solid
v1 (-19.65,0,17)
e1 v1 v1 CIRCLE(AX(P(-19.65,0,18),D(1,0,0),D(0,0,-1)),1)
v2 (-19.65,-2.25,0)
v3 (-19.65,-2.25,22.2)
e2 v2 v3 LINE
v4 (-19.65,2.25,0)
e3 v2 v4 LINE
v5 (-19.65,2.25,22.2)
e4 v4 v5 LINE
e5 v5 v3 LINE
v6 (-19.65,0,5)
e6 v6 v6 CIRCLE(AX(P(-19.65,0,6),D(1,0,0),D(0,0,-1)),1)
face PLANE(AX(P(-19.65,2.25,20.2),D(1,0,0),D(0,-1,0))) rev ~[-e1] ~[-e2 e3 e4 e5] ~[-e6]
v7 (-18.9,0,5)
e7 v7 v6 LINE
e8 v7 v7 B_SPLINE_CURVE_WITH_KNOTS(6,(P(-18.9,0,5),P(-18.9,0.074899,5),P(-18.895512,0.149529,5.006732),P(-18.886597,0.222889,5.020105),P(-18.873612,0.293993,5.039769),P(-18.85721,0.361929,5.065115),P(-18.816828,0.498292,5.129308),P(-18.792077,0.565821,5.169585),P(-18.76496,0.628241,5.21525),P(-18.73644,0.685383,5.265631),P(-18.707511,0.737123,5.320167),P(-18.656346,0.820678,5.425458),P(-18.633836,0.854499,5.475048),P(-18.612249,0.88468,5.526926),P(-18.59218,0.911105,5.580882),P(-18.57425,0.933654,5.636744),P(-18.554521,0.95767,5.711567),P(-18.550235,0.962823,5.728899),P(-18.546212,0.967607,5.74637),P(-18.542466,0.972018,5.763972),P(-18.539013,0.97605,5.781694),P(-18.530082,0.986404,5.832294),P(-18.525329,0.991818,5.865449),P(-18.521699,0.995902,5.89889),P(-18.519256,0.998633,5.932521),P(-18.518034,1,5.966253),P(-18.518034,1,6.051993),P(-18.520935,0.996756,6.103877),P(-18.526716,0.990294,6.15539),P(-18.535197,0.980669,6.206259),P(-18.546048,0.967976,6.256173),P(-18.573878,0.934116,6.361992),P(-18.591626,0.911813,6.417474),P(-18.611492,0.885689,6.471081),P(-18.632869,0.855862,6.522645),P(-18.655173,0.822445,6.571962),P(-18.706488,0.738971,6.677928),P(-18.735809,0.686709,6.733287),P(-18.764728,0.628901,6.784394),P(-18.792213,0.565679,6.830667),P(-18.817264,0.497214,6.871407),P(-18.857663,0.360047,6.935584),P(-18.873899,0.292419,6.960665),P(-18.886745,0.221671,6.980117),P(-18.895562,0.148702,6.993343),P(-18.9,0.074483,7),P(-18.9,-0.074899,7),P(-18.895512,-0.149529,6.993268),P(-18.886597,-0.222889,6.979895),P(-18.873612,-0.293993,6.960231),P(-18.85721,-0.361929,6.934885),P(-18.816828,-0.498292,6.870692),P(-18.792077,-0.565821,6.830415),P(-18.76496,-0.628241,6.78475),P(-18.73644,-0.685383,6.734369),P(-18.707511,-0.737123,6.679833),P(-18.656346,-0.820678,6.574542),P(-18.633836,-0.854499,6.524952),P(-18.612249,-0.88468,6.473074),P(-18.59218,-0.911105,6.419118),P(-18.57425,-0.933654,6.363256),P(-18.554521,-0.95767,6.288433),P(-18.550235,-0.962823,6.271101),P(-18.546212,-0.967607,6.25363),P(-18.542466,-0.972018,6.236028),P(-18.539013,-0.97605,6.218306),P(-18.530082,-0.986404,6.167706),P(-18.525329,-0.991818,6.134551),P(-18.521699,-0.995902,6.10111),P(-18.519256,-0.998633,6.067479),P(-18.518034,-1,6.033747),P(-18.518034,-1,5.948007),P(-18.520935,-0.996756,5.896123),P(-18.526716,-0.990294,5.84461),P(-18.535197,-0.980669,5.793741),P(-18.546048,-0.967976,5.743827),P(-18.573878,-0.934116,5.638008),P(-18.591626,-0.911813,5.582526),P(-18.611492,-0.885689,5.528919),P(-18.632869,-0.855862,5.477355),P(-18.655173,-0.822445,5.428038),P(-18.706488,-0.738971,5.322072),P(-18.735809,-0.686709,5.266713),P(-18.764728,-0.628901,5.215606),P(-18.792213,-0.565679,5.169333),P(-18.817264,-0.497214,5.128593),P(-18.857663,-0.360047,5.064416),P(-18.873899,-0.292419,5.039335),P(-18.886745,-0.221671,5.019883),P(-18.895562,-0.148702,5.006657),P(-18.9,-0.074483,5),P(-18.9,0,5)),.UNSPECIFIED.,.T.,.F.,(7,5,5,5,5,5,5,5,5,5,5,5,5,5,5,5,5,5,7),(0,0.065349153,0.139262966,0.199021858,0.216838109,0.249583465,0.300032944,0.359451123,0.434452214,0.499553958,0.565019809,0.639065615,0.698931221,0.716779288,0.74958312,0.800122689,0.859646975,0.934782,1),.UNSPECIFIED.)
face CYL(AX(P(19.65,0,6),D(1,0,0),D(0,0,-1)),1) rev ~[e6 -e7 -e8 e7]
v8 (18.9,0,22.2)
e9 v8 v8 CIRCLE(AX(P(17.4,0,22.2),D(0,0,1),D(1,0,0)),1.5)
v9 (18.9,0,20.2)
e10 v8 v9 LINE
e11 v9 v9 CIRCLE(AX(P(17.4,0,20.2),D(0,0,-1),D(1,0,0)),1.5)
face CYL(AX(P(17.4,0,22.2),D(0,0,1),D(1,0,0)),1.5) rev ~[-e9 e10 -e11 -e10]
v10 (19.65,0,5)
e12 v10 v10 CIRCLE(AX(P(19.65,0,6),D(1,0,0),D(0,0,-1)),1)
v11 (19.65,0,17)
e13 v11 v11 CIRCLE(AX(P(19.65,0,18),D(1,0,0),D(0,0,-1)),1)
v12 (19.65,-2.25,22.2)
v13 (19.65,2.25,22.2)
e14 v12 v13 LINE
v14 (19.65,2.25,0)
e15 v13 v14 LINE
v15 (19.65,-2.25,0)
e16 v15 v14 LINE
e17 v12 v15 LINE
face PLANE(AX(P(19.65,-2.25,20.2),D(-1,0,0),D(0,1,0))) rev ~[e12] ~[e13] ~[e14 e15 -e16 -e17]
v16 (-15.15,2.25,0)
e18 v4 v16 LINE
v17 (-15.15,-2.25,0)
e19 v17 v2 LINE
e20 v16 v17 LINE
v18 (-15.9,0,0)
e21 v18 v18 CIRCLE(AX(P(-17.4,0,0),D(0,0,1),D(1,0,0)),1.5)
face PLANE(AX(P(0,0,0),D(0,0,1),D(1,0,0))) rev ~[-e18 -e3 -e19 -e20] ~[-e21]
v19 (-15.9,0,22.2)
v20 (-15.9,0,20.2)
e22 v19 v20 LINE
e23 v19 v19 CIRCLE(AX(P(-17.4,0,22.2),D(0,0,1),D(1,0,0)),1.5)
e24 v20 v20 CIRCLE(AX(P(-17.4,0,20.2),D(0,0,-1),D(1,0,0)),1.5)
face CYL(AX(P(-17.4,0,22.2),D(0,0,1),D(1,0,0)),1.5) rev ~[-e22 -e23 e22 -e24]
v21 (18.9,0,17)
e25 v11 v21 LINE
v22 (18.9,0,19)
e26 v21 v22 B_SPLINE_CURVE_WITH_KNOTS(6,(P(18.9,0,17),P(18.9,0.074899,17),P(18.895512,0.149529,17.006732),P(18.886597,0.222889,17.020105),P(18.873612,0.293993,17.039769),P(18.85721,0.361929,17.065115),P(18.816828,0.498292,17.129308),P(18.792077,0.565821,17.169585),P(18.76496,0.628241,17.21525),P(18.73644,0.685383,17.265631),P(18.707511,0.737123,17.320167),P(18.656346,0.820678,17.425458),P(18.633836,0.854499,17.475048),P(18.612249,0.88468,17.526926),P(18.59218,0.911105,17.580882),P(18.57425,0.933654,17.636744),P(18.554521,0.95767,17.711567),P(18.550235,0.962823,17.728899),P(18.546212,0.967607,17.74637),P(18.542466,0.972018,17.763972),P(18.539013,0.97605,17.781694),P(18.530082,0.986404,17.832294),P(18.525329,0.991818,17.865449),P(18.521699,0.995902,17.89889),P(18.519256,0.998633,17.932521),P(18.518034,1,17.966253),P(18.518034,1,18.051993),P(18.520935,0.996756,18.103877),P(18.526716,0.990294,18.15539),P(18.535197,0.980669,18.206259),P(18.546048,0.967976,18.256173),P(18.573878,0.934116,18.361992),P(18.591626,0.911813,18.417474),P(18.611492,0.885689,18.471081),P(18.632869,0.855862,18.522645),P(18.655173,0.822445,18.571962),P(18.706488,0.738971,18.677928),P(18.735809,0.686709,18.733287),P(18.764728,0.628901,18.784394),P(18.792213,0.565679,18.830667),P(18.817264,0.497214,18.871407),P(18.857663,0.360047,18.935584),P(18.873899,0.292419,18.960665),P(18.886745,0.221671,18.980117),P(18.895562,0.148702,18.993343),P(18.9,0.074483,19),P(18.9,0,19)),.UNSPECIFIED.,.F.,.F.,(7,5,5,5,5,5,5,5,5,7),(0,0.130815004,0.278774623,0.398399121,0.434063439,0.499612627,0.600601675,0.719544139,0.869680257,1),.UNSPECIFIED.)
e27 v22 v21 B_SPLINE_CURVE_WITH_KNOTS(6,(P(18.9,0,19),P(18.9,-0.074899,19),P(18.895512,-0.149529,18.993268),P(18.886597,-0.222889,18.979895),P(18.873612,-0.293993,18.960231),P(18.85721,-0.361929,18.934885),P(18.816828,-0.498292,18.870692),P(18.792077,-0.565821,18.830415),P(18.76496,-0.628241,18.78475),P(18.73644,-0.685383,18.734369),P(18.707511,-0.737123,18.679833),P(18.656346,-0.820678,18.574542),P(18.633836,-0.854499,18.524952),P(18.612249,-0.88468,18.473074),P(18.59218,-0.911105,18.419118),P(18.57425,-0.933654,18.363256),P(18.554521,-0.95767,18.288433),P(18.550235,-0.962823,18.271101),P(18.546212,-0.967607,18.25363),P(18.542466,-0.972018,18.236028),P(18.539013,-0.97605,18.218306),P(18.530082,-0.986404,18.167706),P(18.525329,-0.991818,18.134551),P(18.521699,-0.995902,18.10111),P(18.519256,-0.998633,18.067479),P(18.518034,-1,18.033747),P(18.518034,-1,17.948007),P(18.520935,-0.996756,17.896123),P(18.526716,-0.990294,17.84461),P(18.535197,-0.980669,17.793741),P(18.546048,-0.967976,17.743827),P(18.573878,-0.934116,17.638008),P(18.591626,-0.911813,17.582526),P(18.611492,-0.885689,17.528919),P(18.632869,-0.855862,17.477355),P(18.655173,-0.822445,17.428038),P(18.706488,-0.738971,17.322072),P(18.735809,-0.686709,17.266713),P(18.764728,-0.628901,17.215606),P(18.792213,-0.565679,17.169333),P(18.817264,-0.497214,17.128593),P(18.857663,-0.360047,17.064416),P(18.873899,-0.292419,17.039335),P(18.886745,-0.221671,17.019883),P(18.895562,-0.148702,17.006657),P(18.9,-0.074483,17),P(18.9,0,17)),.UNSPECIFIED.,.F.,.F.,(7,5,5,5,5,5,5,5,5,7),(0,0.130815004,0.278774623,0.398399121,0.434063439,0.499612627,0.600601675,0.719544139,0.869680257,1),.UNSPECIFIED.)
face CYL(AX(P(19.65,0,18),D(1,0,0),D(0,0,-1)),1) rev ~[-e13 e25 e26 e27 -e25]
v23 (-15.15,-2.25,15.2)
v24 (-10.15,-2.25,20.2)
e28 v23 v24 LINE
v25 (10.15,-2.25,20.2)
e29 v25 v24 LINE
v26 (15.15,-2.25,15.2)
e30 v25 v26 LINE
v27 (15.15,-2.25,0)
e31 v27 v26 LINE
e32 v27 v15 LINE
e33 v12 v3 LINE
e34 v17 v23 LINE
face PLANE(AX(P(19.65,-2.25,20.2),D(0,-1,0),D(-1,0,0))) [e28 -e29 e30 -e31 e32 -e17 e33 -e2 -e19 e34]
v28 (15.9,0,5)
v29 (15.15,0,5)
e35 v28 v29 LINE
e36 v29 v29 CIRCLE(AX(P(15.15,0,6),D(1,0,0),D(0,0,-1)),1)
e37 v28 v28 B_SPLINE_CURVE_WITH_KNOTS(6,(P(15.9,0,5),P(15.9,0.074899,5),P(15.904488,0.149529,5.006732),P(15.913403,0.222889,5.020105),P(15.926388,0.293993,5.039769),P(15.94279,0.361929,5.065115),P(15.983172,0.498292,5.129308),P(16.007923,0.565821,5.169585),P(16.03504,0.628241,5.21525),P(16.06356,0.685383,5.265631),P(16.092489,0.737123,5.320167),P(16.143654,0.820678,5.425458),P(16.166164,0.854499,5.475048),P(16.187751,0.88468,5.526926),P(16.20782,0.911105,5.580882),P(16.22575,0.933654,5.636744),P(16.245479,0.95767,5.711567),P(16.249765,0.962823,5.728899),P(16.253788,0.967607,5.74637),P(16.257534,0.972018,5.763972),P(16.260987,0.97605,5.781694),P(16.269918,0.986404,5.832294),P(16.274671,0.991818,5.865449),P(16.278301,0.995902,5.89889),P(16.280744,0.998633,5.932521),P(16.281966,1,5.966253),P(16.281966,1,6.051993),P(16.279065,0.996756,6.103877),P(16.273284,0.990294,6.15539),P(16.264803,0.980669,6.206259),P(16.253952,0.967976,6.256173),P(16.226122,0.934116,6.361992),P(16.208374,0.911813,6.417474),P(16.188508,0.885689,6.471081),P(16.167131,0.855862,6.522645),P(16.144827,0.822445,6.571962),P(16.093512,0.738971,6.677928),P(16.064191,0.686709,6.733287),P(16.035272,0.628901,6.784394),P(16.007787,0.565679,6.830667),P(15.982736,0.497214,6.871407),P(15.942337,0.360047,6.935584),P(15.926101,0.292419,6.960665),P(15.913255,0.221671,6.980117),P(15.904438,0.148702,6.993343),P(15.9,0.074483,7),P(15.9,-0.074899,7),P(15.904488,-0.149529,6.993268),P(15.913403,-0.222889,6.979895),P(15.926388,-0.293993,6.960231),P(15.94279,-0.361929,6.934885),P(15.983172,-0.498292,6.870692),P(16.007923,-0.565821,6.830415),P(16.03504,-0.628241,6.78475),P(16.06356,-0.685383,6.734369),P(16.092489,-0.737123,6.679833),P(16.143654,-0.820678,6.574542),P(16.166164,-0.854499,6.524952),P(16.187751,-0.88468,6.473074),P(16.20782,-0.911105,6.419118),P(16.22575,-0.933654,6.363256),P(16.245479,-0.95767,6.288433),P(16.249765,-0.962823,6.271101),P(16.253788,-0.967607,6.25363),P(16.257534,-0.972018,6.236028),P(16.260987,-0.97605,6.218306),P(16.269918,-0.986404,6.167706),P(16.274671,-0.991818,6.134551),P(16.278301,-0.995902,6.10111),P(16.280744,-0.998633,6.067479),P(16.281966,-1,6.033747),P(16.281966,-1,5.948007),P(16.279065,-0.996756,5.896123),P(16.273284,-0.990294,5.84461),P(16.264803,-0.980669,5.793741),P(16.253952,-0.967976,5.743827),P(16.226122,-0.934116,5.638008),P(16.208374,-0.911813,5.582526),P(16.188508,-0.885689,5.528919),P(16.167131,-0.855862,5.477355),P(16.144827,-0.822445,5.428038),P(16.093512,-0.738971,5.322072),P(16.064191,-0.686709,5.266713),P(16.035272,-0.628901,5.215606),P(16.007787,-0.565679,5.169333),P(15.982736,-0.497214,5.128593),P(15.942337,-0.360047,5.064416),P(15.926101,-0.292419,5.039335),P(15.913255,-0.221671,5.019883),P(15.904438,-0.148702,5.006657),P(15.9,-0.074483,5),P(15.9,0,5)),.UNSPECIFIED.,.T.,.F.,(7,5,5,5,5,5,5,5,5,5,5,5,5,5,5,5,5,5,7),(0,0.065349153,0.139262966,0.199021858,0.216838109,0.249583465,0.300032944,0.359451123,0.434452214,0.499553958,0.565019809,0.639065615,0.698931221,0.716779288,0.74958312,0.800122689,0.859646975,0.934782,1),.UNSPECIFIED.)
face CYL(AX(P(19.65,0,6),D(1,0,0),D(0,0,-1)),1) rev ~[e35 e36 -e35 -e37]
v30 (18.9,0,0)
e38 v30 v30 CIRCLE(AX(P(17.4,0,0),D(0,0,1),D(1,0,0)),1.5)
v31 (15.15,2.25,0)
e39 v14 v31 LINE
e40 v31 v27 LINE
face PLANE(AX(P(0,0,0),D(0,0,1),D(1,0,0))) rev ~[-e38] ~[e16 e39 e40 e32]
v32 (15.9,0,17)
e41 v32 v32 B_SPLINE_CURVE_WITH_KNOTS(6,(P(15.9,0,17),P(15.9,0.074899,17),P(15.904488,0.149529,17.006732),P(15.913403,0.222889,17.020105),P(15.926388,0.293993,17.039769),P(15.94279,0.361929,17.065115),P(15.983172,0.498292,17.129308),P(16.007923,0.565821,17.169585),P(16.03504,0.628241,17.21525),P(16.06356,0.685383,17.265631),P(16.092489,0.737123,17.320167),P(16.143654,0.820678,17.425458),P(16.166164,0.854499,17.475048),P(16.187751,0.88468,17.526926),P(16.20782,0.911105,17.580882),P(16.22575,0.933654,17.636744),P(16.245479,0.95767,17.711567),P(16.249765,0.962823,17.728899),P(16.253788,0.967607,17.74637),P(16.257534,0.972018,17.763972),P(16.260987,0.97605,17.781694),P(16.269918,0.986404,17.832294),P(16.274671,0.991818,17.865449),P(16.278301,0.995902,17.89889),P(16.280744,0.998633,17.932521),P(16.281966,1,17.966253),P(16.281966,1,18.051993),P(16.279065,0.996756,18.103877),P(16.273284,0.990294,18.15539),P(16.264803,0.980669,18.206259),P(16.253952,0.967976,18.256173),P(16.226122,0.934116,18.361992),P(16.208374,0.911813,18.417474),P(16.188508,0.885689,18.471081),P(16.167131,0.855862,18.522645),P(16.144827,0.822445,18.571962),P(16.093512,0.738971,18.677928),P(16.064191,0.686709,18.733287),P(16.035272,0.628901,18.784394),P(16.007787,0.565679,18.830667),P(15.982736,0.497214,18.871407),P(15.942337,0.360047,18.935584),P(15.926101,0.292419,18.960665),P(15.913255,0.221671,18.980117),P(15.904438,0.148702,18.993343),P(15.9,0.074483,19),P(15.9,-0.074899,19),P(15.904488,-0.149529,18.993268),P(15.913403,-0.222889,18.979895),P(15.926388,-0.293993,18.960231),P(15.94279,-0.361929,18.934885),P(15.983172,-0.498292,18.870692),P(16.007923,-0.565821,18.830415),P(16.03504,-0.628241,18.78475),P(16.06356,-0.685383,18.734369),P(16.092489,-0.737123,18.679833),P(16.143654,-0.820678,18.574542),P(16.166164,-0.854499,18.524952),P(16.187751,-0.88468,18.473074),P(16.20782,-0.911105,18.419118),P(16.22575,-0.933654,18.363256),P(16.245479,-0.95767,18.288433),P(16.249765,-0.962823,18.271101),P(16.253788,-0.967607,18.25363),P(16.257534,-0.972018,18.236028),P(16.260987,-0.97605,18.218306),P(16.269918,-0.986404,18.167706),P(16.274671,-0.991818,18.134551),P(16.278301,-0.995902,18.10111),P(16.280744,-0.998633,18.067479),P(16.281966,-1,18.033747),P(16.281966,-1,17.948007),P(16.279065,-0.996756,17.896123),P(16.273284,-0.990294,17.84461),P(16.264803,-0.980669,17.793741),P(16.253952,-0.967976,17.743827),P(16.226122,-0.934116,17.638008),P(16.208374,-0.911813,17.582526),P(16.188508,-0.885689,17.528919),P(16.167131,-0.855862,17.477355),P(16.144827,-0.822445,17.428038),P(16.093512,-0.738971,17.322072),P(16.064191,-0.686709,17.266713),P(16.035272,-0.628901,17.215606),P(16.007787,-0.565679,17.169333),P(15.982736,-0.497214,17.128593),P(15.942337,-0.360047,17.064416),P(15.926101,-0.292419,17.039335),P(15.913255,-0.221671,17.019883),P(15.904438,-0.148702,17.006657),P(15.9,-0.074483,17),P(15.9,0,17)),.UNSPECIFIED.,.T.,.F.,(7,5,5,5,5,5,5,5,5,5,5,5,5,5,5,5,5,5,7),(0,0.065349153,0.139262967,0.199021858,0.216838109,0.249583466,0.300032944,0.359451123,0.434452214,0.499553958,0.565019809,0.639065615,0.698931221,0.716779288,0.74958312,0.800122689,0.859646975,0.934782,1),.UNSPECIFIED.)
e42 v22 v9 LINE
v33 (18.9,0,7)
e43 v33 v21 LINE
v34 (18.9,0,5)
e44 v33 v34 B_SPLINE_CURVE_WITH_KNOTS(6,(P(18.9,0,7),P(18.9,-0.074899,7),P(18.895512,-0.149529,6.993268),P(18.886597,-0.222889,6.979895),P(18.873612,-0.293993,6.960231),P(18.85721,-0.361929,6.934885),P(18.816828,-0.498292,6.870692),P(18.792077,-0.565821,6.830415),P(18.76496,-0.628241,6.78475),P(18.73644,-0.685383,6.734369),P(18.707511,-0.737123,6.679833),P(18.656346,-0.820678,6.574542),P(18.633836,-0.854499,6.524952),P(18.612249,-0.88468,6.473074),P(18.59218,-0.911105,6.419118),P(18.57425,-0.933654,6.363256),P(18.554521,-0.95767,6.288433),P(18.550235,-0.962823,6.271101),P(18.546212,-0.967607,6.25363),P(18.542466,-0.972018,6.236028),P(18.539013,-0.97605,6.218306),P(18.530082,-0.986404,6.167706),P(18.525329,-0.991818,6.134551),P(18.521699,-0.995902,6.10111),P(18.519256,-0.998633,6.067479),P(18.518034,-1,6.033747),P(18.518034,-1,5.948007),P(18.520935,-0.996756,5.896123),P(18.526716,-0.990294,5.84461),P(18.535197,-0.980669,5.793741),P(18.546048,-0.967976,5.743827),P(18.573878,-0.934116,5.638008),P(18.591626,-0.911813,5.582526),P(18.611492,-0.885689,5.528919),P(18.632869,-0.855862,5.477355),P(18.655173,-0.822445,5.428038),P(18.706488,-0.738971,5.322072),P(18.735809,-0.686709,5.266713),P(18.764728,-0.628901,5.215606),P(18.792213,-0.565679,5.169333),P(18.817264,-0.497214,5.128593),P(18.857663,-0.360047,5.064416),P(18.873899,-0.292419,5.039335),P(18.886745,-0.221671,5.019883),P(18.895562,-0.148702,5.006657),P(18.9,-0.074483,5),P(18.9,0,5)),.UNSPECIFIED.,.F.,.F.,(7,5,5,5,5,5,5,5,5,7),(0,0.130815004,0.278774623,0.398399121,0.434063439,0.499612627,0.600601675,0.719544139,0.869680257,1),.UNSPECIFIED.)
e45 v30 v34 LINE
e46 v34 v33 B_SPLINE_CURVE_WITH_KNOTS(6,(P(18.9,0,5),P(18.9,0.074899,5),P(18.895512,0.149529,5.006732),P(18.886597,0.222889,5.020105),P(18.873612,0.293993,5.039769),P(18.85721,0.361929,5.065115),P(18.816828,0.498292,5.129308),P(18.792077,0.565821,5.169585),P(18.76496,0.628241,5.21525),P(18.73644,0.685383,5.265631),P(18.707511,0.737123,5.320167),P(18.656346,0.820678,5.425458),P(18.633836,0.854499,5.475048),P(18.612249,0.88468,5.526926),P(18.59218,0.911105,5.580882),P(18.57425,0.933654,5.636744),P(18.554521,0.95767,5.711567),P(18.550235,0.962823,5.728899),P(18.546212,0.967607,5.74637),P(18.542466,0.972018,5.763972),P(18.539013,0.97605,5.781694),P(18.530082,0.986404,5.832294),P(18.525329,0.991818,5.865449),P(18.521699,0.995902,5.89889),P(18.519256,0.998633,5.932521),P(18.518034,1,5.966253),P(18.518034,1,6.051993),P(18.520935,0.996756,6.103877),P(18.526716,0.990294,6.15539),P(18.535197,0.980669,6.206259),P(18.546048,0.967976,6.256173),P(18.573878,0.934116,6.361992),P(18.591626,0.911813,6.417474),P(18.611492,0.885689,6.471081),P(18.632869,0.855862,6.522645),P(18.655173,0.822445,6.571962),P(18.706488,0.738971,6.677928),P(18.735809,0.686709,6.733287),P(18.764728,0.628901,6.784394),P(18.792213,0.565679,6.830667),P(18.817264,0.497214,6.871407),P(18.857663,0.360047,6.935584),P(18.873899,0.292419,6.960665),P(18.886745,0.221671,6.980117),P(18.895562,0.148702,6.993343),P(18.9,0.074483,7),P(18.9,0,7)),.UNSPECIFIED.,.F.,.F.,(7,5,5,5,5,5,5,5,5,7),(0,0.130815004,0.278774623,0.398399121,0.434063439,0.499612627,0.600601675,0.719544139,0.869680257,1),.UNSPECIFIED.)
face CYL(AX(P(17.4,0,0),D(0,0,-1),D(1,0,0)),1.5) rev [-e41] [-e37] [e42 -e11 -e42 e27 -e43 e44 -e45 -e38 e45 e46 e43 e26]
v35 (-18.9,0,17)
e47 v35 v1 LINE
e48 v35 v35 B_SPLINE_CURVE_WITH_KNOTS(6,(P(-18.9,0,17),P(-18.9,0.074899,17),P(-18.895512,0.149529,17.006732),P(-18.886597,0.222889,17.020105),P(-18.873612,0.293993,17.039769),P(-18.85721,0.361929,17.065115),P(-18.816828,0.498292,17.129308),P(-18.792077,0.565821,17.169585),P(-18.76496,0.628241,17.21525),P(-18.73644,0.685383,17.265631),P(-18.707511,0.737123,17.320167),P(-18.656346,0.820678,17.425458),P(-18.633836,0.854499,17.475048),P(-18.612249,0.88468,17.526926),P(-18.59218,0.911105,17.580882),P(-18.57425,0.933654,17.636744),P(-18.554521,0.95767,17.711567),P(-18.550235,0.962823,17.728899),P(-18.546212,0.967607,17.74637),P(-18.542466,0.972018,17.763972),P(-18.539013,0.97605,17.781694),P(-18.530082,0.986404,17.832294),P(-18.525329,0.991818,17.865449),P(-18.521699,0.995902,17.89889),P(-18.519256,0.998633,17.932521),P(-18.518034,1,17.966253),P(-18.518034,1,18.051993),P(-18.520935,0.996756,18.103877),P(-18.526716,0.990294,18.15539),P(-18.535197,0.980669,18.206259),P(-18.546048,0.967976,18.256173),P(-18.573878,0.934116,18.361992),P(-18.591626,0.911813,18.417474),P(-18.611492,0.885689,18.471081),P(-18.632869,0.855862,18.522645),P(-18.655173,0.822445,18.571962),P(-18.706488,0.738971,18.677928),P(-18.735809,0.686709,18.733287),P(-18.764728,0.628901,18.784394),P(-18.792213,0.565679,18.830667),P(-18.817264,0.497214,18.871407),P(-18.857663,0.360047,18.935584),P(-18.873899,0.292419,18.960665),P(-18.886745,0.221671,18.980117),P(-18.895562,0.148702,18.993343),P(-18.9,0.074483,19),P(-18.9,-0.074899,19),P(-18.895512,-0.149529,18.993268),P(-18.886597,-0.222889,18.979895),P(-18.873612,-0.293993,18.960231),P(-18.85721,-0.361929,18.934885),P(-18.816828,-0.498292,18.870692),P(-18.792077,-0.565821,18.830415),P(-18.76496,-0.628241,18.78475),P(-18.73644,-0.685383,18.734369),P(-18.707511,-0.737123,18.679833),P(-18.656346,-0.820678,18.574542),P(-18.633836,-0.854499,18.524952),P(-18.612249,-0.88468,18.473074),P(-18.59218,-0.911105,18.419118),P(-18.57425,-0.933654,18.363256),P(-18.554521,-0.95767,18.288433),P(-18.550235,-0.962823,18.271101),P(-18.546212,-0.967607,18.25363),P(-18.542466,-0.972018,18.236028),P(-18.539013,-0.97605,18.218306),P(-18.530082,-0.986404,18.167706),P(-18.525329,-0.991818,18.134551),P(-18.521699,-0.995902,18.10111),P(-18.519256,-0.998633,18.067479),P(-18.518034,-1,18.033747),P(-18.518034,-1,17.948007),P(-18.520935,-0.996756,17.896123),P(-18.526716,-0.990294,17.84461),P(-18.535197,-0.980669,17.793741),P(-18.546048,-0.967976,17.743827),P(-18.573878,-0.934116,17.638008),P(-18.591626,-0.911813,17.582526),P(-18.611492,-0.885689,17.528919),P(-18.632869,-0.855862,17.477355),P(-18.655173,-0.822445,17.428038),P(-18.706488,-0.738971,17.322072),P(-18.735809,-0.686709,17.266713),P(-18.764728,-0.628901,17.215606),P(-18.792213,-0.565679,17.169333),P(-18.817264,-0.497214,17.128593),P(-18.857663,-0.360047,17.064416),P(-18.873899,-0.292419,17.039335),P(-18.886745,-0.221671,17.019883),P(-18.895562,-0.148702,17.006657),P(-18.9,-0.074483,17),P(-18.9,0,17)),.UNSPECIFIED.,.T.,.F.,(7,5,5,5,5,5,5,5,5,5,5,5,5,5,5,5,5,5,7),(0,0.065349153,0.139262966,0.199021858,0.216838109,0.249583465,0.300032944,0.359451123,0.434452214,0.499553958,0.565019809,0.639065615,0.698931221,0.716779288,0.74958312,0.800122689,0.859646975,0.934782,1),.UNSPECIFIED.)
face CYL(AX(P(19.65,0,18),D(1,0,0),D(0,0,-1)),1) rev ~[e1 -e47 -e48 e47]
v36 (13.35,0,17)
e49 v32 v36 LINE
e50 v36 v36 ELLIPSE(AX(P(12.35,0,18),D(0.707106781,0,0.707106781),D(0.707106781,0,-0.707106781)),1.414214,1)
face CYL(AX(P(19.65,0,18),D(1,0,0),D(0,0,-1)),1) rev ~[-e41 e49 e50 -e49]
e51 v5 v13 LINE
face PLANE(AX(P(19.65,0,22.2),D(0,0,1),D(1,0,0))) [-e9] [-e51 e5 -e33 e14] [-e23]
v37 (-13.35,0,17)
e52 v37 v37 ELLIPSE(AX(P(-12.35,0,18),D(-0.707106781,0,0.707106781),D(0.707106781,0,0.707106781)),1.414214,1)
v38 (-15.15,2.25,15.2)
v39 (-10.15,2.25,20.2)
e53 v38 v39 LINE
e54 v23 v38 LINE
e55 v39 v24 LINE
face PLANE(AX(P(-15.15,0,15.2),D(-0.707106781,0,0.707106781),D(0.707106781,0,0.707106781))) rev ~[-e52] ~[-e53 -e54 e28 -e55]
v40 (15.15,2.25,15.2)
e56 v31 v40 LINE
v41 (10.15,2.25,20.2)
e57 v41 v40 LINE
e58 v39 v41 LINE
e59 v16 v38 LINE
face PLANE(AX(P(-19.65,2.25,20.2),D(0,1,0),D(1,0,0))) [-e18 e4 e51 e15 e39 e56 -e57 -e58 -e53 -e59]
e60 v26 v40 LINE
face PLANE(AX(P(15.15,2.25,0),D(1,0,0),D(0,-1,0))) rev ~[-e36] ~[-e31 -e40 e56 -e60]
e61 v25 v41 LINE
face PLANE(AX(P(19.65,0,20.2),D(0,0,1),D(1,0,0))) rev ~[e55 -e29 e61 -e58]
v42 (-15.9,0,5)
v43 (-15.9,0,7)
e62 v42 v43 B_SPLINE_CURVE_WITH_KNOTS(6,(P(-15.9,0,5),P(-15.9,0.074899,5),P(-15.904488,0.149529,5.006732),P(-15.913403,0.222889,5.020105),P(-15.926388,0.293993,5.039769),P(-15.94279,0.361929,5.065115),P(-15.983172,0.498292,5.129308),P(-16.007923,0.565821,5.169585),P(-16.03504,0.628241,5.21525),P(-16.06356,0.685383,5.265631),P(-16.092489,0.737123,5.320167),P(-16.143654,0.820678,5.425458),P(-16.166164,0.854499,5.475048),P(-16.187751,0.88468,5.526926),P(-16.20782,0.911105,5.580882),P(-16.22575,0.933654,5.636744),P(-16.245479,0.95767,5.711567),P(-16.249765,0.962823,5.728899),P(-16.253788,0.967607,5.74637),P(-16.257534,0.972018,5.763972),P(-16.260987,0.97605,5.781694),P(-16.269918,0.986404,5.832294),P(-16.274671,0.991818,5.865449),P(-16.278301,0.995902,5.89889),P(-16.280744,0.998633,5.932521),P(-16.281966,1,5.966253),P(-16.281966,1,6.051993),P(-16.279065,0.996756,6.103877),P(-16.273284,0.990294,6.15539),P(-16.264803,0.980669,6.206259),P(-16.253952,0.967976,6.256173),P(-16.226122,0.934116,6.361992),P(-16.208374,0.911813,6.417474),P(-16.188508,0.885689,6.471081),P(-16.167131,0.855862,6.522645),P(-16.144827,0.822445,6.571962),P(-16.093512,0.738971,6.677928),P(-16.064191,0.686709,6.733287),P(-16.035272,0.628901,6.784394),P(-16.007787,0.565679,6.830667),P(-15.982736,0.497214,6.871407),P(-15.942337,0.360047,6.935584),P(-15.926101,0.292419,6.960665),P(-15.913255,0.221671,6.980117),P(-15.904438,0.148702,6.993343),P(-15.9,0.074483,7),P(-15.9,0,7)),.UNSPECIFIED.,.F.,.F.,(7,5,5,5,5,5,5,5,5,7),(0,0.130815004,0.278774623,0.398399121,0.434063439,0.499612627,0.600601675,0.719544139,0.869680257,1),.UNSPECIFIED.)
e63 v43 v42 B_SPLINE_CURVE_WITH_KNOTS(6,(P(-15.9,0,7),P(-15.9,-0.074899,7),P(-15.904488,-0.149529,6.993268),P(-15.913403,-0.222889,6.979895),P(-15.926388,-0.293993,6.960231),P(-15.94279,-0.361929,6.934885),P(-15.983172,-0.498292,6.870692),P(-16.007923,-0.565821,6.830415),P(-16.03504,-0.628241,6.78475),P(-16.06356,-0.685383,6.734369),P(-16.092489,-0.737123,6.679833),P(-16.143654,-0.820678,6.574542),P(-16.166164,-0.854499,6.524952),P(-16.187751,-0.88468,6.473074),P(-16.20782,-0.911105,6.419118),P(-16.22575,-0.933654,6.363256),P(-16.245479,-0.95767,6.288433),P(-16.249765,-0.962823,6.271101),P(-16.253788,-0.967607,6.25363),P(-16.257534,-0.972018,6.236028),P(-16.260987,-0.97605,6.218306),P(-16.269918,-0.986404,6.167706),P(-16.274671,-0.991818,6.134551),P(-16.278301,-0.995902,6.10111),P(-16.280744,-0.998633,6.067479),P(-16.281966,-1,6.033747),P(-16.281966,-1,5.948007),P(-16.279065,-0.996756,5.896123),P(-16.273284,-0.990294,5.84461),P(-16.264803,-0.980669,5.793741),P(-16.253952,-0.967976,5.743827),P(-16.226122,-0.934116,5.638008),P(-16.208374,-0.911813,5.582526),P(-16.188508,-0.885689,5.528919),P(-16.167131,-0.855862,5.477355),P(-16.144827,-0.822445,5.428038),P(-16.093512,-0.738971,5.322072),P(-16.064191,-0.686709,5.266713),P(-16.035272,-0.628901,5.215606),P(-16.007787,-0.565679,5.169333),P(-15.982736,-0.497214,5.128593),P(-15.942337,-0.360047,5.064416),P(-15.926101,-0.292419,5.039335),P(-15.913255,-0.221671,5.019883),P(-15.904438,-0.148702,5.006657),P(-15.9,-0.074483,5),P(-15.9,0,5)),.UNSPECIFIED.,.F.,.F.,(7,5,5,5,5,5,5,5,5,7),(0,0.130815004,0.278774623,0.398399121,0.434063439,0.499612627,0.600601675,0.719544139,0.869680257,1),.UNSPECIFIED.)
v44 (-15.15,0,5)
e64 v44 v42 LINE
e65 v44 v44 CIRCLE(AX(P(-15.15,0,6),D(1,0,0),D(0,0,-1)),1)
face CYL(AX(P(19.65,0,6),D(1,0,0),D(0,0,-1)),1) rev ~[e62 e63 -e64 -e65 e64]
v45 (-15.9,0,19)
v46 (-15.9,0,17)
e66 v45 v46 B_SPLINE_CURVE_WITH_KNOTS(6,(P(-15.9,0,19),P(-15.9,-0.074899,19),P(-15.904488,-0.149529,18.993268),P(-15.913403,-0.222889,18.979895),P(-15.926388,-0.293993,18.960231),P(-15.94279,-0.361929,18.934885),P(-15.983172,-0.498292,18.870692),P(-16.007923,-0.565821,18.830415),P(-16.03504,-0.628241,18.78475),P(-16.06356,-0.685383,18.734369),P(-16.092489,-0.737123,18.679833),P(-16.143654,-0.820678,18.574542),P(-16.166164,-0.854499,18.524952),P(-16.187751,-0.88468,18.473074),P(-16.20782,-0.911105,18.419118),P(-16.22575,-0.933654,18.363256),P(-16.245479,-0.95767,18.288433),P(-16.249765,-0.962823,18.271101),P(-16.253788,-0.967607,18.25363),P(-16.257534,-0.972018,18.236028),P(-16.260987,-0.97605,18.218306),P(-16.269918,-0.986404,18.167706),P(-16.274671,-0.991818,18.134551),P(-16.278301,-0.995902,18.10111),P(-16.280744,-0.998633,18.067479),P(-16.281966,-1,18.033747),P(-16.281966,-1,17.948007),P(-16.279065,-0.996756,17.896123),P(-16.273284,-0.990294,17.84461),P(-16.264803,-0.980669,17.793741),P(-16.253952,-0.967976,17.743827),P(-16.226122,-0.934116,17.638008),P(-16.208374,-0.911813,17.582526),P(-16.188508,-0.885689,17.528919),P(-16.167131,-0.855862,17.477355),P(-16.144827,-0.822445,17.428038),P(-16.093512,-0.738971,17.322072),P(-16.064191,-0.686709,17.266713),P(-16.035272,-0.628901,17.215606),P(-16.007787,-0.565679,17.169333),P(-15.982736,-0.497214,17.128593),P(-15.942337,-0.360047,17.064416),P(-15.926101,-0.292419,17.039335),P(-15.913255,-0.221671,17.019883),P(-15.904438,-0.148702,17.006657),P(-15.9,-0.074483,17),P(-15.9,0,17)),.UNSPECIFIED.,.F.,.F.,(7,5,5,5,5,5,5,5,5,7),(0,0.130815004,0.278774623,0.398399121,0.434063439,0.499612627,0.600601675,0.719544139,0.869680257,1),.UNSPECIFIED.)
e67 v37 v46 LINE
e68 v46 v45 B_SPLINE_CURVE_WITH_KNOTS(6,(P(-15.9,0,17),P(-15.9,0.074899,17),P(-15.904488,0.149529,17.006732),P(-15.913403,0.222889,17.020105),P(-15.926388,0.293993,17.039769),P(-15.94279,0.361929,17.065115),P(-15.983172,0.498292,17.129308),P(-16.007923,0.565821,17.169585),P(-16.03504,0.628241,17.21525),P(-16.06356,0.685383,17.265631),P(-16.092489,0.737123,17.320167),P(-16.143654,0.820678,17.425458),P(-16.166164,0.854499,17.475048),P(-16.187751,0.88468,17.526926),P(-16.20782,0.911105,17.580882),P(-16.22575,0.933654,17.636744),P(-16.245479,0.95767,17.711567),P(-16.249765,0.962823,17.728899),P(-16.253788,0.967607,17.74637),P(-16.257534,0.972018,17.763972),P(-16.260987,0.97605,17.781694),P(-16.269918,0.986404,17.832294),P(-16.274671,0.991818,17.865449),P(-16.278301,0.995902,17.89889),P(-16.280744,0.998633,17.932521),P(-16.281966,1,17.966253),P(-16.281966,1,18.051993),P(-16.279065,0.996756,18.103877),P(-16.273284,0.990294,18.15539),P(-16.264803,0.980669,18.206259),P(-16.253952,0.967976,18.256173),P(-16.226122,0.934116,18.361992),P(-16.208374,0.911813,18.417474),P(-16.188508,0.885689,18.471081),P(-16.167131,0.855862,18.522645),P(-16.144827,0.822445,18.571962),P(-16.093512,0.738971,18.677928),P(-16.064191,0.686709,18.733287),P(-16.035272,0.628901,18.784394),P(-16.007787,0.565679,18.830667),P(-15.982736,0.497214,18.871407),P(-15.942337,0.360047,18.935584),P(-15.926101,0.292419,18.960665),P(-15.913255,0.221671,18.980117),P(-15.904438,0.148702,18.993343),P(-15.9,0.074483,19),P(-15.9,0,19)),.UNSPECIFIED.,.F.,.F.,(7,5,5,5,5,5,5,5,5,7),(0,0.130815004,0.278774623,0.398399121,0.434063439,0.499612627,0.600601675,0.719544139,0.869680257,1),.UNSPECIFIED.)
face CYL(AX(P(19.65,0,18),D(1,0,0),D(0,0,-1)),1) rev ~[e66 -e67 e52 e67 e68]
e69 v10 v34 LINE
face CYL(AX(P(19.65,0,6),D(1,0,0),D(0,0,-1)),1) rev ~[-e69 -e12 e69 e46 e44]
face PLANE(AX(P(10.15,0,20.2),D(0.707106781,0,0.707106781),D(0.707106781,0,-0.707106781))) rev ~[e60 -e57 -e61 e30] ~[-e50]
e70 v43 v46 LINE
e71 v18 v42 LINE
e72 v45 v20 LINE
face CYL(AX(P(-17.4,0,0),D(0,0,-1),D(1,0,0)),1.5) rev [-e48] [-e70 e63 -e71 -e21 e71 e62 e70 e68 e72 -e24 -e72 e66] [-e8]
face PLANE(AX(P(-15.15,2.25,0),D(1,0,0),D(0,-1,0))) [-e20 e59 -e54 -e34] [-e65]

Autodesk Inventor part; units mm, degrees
ref_plane "YZ Plane" through (0, 0, 0) normal (1, 0, 0) x (0, 1, 0)
sketch "Sketch1" plane through (0, 0, 0) normal (0, 0, 1) x (1, 0, 0)
  circle A0 centre (-17.4, 0) radius 1.5
  line L0 (0, 7.9375) -> (0, -7.1814) construction
  line L1 (-8.2631, 0) -> (10.6068, 0) construction
  line L2 (-19.65, 2.25) -> (-15.15, 2.25)
  line L3 (-15.15, 2.25) -> (-15.15, -2.25)
  line L4 (-15.15, -2.25) -> (-19.65, -2.25)
  line L5 (-19.65, -2.25) -> (-19.65, 2.25)
  line L6 (-19.65, 2.25) -> (-15.15, -2.25) construction
  line L7 (-15.15, 2.25) -> (-19.65, -2.25) construction
  circle A1 centre (17.4, 0) radius 1.5
  line L8 (19.65, 2.25) -> (15.15, 2.25)
  line L9 (15.15, 2.25) -> (15.15, -2.25)
  line L10 (15.15, -2.25) -> (19.65, -2.25)
  line L11 (19.65, -2.25) -> (19.65, 2.25)
  line L12 (19.65, 2.25) -> (15.15, -2.25) construction
  line L13 (15.15, 2.25) -> (19.65, -2.25) construction
  point P0 (0, 0)
  dimension "d0" = 3
  dimension "d1" = 17.4
  dimension "d2" = 4.5
  dimension "d3" = 4.5
extrude "Extrusion1" add sketch "Sketch1" along normal blind 20.2 contours A0 | L2 L3 L4 L5 | A1 | L11 L10 L9 L8
extrude "Extrusion2" cut sketch "Sketch1" along normal blind 22.2 contours A0 | A1
ref_plane "Work Plane1" through (19.65, 0, 20.2) normal (0, 0, 1) x (1, 0, 0)
sketch "Sketch2" plane through (19.65, 0, 20.2) normal (0, 0, 1) x (1, 0, 0)
  line L0 (-39.3, 2.25) -> (-39.3, -2.25) projected
  line L1 (0, -2.25) -> (0, 2.25) projected
  line L2 (-39.3, 2.25) -> (0, 2.25)
  line L3 (0, 2.25) -> (0, -2.25)
  line L4 (0, -2.25) -> (-39.3, -2.25)
  line L5 (-39.3, -2.25) -> (-39.3, 2.25)
  point P0 (-19.65, 0)
extrude "Extrusion3" add sketch "Sketch2" along normal blind 2
ref_plane "Work Plane2" through (15.15, 0, 0) normal (0, -1, 0) x (1, 0, 0)
sketch "Sketch5" plane through (15.15, 0, 0) normal (0, -1, 0) x (1, 0, 0)
  line L0 (0, 20.2) -> (-30.3, 20.2) projected
  line L1 (-30.3, 20.2) -> (-25.3, 20.2)
  line L2 (-30.3, 20.2) -> (-30.3, 15.2)
  line L3 (-30.3, 0) -> (-30.3, 20.2) projected
  line L4 (-30.3, 15.2) -> (-25.3, 20.2)
  line L5 (0, 0) -> (0, 20.2) projected
  line L6 (0, 20.2) -> (-5, 20.2)
  line L7 (-5, 20.2) -> (0, 15.2)
  line L8 (0, 15.2) -> (0, 20.2)
  point P0 (-15.15, 0)
  dimension "d10" = 5
  dimension "d11" = 5
  dimension "d12" = 5
extrude "Extrusion4" add sketch "Sketch5" along normal mid plane 4.5
sketch "Sketch6" plane through (19.65, 0, 22.2) normal (0, 0, 1) x (1, 0, 0)
  circle A0 centre (-37.05, 0) radius 1.5 projected
  circle A1 centre (-37.05, 0) radius 1.5
  circle A2 centre (-2.25, 0) radius 1.5 projected
  circle A3 centre (-2.25, 0) radius 1.5
  point P0 (-19.65, 0)
extrude "Extrusion5" cut sketch "Sketch6" against normal blind 2
thread "Thread1" size "M3x0.5" class "6H" standard "ANSI Metric M Profile" full length
thread "Thread2" size "M3x0.5" class "6H" standard "ANSI Metric M Profile" full length
sketch "Sketch7" plane through (19.65, -2.25, 0) normal (1, 0, 0) x (0, 0, -1)
  circle A0 centre (-6, 2.25) radius 1
  line L0 (0, 0) -> (0, 4.5) projected
  circle A1 centre (-18, 2.25) radius 1
  point P0 (0, 2.25)
  point P1 (0, 2.25)
  dimension "d21" = 2
  dimension "d22" = 6
  dimension "d23" = 2
  dimension "d24" = 12
extrude "Extrusion6" cut sketch "Sketch7" against normal blind 40
properties part number "Tiang 1_3DPrint"
